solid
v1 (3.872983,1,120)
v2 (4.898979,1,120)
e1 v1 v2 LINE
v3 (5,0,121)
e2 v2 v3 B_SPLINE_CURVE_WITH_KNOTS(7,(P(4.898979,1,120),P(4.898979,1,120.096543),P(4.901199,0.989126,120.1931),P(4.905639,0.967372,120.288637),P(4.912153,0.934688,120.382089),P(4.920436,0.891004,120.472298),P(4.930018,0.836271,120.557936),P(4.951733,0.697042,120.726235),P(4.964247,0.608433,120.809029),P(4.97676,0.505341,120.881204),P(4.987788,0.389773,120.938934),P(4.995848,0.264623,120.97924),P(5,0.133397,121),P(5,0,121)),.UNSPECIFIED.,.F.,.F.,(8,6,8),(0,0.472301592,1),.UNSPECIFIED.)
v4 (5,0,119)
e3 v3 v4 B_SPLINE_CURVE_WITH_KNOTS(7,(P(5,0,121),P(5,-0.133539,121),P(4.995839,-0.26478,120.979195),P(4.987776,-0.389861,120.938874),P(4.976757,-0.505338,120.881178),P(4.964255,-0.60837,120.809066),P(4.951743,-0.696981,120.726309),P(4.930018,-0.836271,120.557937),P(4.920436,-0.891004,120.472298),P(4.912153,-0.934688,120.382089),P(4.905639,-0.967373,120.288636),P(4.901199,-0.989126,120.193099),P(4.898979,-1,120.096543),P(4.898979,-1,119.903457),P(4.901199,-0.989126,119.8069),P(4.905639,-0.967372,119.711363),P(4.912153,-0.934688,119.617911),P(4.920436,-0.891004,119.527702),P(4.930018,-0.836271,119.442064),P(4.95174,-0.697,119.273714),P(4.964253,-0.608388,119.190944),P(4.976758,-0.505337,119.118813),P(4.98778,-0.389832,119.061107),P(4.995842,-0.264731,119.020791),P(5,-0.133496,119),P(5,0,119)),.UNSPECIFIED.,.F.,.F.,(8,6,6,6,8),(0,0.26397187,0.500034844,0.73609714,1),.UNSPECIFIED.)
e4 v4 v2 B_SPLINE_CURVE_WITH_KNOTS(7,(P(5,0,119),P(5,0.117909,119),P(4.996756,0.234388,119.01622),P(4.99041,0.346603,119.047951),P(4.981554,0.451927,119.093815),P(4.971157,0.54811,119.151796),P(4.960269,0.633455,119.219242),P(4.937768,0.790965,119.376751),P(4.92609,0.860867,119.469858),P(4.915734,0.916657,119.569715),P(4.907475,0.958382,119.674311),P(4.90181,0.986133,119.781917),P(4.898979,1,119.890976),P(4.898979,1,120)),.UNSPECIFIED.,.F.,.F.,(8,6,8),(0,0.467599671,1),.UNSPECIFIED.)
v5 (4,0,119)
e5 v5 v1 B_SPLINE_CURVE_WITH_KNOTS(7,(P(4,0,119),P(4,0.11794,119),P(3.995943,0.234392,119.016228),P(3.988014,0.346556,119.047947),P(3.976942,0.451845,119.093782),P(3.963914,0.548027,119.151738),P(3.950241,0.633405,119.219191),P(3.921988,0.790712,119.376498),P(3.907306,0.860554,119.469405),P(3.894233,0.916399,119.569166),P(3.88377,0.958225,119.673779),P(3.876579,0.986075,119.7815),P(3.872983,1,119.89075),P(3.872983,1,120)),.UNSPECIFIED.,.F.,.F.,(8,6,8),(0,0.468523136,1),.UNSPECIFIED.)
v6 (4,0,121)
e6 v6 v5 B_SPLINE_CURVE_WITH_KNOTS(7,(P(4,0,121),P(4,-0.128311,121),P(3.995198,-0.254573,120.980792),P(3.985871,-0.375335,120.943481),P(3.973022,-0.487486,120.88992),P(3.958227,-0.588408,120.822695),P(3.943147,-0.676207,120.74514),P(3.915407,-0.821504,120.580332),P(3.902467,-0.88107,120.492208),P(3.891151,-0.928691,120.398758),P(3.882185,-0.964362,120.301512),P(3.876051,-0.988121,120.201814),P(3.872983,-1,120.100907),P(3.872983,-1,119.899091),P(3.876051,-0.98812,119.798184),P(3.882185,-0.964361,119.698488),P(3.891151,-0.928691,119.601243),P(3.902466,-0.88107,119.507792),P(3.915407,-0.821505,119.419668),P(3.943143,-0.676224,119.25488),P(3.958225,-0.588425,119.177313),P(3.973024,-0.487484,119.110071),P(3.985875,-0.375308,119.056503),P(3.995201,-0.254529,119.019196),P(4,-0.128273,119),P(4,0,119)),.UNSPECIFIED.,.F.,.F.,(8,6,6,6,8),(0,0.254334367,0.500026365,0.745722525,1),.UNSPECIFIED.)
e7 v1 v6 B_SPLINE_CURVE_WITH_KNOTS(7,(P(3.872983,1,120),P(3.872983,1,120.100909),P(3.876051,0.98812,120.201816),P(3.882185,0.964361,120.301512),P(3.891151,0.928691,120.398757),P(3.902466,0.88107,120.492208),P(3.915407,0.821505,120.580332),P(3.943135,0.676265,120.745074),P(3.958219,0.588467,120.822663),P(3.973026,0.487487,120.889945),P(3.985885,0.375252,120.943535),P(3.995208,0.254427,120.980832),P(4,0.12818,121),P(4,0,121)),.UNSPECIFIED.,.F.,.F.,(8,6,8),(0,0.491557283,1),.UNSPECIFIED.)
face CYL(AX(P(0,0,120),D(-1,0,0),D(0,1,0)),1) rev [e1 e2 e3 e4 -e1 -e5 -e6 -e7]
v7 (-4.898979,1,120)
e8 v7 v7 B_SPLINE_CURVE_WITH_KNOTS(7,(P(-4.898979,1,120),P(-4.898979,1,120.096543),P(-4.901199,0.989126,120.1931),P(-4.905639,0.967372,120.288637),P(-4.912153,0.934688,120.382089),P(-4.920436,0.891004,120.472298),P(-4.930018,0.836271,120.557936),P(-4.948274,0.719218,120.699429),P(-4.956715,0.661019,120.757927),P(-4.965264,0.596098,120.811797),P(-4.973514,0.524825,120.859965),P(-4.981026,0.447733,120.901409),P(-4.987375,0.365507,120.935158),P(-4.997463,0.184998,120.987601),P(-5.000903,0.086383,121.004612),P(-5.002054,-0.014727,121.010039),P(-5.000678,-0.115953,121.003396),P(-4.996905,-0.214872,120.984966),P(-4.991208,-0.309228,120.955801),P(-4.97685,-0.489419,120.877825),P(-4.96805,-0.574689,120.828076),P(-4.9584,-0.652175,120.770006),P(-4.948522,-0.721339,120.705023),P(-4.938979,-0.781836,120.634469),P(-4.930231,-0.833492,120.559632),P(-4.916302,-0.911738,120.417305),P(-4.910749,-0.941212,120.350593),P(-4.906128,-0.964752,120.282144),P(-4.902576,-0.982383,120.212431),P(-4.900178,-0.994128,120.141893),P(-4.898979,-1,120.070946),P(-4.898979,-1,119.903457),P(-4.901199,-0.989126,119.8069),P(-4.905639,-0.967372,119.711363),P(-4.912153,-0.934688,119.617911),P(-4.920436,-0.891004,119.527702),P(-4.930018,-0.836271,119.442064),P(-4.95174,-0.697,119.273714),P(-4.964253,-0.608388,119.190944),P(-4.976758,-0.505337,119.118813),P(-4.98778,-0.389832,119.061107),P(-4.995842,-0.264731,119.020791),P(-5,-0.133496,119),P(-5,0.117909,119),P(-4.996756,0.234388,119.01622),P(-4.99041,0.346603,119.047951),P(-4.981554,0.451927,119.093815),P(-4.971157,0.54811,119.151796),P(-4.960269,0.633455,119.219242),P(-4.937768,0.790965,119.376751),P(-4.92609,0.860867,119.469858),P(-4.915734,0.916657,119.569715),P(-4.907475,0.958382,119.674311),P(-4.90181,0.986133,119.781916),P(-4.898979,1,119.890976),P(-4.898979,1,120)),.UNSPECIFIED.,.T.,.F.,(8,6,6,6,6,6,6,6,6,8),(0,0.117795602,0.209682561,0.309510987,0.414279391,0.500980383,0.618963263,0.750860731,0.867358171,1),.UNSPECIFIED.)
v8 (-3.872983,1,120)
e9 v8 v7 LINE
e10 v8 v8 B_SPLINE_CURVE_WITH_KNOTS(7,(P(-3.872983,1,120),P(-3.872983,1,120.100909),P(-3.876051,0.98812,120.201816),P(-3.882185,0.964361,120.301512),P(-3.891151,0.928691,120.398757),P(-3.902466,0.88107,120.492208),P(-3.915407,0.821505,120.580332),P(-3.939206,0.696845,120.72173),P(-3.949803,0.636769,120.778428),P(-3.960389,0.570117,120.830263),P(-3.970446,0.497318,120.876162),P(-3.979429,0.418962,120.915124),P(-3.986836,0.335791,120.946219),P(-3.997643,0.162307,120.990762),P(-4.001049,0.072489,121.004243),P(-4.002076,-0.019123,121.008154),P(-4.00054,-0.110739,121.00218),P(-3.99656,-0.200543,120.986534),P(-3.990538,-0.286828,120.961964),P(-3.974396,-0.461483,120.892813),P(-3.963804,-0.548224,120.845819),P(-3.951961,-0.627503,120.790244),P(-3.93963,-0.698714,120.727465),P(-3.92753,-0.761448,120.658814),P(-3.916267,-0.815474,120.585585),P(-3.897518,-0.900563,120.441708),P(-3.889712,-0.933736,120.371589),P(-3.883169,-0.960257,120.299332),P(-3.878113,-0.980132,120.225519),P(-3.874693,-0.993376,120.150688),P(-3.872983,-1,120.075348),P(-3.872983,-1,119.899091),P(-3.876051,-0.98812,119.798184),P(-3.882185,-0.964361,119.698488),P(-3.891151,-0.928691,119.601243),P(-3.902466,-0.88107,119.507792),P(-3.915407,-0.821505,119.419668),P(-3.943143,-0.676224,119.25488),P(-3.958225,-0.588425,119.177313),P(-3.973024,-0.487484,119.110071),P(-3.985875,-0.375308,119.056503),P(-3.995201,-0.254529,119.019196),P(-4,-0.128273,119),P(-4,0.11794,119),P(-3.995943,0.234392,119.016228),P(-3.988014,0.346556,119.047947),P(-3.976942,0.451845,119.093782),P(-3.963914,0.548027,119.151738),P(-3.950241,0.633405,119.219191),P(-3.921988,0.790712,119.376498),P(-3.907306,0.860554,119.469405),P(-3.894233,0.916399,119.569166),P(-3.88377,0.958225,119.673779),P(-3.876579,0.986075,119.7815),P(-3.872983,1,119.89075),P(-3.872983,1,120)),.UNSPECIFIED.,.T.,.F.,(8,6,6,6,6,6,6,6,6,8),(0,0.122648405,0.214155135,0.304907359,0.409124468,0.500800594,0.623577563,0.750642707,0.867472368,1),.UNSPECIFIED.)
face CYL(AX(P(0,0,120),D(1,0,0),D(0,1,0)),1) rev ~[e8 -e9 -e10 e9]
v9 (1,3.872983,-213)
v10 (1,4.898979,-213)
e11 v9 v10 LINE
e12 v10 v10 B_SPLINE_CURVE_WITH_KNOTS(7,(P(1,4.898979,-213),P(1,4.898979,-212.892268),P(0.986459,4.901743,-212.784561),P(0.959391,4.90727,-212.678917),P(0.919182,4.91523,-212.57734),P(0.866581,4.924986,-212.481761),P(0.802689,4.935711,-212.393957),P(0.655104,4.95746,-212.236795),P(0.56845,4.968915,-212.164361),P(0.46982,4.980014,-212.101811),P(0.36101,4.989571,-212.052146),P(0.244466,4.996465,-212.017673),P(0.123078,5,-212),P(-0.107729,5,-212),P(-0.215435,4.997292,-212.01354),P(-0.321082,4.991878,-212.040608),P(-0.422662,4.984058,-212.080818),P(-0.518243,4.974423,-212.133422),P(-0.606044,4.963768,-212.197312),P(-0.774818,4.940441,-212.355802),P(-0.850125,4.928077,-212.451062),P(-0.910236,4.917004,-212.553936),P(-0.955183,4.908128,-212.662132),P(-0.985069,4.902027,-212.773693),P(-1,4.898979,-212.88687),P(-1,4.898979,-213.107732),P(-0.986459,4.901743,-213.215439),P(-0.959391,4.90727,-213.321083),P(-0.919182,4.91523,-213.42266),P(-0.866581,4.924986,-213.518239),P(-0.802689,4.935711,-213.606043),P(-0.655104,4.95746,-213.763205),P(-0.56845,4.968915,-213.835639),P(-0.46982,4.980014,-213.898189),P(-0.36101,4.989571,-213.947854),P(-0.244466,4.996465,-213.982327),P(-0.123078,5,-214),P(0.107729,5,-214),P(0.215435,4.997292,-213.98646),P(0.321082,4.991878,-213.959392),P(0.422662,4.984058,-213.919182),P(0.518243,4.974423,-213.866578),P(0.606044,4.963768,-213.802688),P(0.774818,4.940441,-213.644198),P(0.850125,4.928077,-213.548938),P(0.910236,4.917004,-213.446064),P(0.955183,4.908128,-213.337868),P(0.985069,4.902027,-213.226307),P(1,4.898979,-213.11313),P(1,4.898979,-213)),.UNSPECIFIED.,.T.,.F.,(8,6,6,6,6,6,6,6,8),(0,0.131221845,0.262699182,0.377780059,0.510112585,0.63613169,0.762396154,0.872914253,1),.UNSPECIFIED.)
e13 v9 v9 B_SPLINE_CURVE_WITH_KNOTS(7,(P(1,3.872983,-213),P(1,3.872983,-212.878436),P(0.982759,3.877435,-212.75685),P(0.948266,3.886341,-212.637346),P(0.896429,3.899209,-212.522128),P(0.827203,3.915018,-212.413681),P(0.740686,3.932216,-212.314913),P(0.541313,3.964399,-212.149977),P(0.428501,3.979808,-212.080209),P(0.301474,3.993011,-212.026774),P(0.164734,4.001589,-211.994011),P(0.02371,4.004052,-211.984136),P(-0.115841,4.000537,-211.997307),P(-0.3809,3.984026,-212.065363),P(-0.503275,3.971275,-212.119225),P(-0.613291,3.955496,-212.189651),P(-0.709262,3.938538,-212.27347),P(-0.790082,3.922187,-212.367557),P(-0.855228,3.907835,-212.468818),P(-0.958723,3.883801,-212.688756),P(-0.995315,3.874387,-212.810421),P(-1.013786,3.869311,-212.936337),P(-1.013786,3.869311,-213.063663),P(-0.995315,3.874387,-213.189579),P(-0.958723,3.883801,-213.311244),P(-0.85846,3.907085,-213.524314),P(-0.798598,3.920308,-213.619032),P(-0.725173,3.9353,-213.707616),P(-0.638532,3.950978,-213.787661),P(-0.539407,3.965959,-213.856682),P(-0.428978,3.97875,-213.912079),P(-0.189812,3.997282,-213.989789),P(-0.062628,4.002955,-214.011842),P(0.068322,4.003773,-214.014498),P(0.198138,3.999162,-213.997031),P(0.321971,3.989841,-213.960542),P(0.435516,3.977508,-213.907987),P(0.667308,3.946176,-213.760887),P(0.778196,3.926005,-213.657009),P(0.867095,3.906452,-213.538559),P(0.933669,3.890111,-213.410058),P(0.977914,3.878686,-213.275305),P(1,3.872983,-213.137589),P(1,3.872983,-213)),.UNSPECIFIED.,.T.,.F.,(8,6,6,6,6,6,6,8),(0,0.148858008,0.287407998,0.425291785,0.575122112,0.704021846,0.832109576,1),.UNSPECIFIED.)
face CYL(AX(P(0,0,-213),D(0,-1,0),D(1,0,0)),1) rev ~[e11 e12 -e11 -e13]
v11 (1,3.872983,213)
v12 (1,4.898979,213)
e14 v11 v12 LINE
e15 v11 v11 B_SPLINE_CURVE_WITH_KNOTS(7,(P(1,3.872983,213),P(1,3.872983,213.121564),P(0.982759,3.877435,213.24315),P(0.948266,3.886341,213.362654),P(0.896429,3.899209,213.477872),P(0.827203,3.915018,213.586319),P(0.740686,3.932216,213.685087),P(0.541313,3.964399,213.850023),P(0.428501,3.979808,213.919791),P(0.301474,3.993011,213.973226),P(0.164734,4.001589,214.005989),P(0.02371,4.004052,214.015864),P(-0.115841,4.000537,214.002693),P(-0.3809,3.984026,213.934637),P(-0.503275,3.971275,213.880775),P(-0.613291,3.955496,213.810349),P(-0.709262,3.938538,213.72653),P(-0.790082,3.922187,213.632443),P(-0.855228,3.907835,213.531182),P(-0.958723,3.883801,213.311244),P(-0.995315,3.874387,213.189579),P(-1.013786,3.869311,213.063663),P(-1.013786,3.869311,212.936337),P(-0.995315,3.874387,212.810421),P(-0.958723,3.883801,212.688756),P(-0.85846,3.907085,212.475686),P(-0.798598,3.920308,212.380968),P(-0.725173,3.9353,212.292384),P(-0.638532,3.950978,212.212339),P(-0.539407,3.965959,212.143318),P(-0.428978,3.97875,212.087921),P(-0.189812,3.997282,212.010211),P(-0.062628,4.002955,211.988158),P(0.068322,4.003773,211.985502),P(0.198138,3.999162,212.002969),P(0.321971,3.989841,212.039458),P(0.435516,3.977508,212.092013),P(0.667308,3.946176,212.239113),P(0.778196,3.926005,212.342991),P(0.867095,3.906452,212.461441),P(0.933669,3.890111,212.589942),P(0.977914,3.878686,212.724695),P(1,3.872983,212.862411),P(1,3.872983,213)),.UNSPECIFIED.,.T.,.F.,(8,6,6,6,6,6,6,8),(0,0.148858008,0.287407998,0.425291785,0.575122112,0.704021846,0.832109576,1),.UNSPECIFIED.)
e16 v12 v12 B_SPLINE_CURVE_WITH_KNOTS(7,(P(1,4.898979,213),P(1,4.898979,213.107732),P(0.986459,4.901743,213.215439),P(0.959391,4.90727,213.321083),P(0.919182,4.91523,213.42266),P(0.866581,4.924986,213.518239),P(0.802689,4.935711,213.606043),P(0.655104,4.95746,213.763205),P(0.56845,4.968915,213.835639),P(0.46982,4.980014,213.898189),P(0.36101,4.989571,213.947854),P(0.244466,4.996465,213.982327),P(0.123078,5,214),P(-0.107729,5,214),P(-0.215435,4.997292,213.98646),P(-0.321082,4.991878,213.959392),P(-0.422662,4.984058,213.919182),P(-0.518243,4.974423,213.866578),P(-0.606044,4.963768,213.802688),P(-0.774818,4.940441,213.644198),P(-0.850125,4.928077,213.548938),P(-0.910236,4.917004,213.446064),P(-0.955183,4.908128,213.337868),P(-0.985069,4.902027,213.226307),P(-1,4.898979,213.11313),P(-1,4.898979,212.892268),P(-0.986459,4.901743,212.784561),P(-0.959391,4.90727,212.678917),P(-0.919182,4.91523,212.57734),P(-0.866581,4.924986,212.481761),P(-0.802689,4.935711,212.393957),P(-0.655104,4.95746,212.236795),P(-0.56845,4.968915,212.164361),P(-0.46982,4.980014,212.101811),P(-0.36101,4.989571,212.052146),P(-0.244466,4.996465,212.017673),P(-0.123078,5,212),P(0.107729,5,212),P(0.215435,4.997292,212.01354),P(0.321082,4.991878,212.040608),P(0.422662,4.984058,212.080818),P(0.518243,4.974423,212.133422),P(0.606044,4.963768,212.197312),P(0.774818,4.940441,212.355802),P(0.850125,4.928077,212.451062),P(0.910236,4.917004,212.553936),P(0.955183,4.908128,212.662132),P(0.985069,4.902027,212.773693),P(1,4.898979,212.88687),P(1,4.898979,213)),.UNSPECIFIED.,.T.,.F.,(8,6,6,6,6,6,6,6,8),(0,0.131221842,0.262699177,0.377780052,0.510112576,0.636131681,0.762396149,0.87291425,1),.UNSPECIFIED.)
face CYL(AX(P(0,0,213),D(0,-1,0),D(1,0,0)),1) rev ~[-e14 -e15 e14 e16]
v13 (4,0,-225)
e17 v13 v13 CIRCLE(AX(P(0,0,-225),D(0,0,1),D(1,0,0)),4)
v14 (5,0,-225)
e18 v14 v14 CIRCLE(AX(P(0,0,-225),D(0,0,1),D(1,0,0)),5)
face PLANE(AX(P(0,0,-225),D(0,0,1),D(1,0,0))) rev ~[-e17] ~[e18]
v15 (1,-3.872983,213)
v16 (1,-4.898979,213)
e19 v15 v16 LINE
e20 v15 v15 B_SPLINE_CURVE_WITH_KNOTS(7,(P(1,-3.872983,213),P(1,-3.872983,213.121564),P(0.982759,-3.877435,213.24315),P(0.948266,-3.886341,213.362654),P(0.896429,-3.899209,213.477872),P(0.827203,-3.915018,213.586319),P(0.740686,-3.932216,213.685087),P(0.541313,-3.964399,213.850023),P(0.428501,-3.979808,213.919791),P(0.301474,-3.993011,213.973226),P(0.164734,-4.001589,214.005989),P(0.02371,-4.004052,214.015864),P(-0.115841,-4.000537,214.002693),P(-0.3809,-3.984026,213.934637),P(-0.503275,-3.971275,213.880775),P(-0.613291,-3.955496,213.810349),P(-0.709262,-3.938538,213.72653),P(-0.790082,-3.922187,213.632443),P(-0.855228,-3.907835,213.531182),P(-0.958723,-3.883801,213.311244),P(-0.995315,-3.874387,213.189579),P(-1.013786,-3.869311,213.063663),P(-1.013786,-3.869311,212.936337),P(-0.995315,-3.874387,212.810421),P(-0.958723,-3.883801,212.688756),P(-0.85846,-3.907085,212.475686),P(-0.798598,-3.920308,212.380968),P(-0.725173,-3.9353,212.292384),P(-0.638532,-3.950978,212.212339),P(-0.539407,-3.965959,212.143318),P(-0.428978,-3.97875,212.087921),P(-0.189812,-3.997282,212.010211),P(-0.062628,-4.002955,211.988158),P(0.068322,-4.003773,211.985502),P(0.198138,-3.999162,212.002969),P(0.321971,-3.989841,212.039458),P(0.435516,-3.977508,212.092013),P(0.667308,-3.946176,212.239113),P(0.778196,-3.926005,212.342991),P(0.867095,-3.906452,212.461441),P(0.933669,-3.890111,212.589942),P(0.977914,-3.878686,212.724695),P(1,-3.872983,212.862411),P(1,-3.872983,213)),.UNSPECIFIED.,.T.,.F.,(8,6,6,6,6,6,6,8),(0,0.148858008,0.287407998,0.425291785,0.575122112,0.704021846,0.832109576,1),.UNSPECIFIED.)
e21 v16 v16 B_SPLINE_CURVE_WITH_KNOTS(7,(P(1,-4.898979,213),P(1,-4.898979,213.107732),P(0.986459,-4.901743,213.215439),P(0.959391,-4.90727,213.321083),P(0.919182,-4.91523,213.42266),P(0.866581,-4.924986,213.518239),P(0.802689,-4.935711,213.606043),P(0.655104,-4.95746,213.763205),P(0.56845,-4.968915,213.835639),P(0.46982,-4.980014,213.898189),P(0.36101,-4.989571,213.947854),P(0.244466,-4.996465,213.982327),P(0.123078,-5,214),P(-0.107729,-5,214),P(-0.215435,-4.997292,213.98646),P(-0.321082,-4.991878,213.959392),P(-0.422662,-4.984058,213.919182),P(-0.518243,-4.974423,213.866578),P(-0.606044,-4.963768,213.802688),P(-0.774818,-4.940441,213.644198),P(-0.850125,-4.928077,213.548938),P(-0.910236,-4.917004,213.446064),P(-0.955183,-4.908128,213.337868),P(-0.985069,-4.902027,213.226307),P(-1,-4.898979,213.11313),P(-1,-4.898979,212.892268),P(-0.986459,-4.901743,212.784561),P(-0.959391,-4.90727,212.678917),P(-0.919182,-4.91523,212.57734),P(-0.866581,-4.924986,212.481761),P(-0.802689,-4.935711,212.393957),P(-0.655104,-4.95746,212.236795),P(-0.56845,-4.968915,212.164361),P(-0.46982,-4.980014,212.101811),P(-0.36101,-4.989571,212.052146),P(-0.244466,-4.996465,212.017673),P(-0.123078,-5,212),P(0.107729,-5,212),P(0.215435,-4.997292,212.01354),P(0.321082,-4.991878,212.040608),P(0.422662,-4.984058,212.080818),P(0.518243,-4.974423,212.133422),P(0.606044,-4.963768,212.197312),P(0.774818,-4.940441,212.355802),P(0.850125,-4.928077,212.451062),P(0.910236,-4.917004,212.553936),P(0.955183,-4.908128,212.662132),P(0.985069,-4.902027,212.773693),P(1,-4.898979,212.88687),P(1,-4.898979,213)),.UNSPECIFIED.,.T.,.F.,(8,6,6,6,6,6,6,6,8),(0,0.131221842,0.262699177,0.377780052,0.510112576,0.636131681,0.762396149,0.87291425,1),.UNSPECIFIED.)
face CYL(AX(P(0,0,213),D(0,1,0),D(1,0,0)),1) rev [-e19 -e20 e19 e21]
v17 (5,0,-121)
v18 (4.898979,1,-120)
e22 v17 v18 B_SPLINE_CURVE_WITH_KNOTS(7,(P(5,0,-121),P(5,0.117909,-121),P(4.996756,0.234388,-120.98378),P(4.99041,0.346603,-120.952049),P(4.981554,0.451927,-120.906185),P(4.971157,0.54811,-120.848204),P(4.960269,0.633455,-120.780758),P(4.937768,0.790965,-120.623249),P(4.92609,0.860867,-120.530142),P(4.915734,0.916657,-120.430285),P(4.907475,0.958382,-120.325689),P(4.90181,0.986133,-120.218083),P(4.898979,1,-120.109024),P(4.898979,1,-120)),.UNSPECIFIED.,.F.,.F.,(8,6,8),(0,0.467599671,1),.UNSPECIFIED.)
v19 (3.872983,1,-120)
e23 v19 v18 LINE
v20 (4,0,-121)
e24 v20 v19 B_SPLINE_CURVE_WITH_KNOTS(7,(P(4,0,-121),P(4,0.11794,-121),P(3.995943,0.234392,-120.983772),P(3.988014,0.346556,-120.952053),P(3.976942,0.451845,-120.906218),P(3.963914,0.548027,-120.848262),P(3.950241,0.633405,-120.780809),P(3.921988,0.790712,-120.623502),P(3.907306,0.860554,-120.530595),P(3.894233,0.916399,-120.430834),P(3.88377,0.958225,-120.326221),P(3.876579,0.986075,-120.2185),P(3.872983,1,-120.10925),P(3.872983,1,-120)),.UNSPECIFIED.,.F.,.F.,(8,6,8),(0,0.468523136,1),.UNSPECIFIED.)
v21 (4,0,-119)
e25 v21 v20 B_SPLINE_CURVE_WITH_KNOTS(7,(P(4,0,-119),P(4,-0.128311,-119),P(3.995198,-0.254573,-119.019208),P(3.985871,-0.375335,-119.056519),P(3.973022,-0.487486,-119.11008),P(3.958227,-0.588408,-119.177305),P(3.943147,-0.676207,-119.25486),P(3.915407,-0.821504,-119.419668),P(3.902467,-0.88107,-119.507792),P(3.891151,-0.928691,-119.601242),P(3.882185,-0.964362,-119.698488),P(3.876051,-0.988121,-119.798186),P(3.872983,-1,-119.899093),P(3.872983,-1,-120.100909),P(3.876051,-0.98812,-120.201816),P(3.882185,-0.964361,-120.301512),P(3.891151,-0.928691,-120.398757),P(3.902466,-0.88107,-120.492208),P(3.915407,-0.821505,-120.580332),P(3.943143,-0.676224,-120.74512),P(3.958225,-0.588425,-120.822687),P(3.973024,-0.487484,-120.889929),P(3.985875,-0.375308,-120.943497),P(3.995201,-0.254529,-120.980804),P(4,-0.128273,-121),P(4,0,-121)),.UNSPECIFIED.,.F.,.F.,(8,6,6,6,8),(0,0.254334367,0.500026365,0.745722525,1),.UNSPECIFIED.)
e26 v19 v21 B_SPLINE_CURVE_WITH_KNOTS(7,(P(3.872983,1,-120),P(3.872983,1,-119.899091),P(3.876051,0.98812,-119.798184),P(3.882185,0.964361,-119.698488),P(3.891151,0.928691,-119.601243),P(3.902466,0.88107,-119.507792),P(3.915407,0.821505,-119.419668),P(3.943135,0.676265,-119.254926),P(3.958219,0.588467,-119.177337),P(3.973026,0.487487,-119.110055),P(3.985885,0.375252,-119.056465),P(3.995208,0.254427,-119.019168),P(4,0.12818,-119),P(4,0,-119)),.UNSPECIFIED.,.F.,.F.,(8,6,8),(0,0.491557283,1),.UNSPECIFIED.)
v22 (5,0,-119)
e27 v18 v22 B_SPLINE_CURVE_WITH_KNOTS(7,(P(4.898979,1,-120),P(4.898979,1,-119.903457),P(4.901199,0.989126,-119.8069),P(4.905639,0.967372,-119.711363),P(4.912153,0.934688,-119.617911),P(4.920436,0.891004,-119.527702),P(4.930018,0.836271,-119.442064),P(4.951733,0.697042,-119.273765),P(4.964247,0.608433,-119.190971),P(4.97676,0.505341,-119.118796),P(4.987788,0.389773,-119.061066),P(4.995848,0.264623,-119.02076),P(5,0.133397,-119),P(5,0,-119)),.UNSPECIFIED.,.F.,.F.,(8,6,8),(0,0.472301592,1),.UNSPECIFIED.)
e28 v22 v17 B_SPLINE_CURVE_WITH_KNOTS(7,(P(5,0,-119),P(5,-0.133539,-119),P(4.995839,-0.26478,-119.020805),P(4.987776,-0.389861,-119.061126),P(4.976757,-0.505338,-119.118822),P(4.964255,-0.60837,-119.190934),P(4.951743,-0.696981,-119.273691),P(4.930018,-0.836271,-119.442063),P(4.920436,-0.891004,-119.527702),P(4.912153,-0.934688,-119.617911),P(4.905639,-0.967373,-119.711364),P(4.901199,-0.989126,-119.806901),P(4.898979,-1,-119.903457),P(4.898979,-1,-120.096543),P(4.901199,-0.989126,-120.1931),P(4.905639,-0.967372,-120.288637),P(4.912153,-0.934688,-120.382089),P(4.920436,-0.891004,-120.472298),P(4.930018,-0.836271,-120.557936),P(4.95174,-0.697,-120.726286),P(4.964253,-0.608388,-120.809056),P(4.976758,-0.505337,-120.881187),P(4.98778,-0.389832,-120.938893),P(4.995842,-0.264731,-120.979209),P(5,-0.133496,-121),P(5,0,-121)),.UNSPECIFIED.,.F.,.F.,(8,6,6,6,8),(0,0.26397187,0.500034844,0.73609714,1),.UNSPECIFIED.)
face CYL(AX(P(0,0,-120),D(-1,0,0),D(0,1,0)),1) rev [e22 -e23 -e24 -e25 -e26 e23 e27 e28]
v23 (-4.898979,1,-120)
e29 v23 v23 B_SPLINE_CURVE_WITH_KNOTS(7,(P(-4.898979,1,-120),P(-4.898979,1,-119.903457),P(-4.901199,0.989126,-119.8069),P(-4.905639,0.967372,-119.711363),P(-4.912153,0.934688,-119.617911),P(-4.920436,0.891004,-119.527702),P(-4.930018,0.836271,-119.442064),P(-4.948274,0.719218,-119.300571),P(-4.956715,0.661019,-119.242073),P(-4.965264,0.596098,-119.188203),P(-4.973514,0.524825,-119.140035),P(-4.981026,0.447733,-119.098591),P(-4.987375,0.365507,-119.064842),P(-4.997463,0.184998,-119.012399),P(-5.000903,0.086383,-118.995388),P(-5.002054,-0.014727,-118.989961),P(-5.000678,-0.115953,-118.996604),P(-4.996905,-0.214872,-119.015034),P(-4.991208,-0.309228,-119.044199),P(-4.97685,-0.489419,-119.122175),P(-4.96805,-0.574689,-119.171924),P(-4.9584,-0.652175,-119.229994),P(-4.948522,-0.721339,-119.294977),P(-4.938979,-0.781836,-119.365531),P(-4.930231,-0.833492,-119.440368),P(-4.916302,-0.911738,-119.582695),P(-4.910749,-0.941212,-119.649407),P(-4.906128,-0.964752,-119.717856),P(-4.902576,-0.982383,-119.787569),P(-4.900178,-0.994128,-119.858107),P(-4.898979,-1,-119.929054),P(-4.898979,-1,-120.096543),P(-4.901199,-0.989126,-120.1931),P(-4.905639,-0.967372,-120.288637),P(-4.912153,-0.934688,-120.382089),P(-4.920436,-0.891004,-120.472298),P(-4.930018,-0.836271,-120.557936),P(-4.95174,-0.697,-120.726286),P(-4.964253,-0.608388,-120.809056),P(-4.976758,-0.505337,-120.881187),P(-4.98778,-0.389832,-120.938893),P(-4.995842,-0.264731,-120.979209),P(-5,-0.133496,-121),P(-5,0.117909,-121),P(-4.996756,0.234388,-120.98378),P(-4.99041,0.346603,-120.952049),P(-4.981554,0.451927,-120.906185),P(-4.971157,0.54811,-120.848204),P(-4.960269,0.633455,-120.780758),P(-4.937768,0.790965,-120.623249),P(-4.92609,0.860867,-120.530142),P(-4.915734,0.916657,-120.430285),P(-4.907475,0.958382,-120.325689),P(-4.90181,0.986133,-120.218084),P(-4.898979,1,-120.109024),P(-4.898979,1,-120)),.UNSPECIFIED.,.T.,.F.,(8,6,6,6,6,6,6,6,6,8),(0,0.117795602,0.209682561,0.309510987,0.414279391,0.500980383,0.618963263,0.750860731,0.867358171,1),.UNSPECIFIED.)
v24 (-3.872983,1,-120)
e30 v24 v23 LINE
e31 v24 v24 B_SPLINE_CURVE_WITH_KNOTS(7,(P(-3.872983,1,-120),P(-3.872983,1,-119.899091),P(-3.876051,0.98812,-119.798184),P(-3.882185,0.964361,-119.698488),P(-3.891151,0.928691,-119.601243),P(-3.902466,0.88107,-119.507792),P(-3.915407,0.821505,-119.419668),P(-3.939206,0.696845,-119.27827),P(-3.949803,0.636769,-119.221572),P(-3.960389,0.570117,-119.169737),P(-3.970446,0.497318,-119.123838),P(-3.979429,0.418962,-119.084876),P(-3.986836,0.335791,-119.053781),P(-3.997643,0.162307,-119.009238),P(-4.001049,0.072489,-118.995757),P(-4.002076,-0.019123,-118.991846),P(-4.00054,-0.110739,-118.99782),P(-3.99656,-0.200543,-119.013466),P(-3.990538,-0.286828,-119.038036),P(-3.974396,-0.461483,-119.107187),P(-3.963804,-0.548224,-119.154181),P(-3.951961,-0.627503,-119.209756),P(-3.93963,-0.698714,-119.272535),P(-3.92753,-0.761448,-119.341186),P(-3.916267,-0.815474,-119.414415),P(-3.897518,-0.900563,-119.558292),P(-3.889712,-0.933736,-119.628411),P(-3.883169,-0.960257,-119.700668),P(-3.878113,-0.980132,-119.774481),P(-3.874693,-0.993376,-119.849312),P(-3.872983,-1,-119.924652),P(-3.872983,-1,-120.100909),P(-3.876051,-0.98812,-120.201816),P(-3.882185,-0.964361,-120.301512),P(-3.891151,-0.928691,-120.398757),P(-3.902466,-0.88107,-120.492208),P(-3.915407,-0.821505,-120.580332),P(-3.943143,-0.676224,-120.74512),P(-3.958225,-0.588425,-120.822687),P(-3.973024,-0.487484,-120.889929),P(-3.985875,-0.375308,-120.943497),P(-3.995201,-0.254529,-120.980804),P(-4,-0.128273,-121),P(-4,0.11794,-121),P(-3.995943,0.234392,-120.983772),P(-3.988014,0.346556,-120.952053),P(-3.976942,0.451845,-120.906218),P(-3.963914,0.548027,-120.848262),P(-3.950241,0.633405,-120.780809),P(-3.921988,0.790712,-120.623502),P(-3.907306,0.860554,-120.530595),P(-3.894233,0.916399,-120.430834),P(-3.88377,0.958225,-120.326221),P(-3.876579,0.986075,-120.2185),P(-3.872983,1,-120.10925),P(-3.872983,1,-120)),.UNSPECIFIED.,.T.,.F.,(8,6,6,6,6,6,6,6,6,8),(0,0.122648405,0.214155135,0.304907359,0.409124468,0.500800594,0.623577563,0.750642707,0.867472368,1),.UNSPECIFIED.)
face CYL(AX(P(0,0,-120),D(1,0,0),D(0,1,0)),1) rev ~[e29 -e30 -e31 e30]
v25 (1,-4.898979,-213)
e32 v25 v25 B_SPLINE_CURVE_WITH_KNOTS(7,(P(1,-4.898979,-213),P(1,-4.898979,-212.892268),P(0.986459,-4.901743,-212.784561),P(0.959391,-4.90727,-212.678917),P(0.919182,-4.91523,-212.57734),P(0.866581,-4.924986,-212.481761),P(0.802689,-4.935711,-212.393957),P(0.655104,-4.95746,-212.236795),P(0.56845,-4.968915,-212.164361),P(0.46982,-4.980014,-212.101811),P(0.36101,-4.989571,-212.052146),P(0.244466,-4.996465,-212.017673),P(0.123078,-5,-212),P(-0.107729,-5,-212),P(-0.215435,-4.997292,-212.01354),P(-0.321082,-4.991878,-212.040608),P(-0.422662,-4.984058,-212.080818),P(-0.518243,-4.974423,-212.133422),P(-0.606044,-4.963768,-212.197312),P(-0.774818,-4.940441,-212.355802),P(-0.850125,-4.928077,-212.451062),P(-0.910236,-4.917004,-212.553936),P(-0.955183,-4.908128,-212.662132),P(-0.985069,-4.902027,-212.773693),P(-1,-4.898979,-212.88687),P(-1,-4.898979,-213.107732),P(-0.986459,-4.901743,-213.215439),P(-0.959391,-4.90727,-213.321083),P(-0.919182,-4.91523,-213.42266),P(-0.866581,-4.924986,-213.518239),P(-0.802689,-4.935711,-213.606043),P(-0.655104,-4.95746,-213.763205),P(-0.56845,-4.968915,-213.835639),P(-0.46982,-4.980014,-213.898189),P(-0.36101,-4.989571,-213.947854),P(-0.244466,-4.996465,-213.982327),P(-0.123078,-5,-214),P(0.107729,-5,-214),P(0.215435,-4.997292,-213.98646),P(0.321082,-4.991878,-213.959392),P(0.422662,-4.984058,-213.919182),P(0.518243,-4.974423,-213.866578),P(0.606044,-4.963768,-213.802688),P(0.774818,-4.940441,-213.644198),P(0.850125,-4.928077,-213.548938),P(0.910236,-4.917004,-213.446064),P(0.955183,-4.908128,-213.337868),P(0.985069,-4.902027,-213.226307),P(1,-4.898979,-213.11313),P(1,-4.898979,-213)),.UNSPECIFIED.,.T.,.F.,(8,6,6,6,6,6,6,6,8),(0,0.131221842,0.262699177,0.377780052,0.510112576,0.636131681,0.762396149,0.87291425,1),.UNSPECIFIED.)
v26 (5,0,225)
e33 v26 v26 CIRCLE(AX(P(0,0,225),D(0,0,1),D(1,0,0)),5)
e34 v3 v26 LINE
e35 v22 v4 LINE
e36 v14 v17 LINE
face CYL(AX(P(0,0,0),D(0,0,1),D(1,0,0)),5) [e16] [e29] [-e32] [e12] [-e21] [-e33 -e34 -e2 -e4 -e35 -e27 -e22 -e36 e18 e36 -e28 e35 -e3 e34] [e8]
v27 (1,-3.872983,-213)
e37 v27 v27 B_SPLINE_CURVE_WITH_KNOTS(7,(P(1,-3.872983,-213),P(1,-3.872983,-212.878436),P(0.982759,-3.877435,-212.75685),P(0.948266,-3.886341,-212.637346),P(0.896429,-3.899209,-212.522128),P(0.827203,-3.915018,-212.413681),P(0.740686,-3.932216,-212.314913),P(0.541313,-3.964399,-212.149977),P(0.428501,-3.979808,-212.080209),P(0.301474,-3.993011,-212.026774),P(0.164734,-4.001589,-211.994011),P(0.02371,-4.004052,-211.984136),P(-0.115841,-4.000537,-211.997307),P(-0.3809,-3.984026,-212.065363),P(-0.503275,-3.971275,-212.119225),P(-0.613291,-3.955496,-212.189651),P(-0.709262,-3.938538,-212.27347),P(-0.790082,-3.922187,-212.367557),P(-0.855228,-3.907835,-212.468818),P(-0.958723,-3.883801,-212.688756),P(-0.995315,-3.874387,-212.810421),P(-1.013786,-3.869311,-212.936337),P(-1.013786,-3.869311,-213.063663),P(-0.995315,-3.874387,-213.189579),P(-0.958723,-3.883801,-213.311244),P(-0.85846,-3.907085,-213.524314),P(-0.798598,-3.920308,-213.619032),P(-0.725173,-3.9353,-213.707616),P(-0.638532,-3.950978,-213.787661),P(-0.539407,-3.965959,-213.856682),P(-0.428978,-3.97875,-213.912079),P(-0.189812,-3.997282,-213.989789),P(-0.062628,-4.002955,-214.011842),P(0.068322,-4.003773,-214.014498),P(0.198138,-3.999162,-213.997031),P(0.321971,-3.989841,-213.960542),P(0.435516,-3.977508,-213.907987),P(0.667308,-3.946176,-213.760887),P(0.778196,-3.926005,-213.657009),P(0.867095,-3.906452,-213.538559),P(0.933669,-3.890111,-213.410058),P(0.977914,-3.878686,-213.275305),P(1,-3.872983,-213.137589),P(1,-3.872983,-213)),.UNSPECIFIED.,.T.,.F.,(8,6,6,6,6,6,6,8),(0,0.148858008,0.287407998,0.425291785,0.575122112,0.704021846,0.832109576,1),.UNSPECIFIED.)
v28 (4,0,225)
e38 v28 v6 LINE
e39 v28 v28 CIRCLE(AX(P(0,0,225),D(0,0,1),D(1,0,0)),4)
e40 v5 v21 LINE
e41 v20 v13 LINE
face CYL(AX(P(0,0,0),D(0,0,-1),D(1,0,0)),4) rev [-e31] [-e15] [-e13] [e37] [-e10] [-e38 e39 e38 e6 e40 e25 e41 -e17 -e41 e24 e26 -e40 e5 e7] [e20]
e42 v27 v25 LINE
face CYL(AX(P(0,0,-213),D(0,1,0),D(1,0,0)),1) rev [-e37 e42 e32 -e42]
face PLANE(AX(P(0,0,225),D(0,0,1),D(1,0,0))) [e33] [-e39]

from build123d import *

# Parameters (mm, degrees)
F0_R          = 5
F0_R_2        = 4
F1_DEPTH      = 225
F2_R          = 1
F3_DEPTH      = 5.001
F3_DEPTH_BACK = 5.001
F4_R          = 1
F5_DEPTH      = 5.0010001
F5_DEPTH_BACK = 5.0010001


with BuildPart() as f1:
    # F0 (on Top) → F1 (new body, symmetric)
    with BuildSketch(Plane.XY):
        Circle(F0_R)
        Circle(F0_R_2, mode=Mode.SUBTRACT)
    extrude(amount=F1_DEPTH, both=True)

    # F2 (on Front) → F3 (cut, two sides)
    with BuildSketch(Plane.XZ) as f3_sk:
        with Locations((0, 213)):
            Circle(F2_R)
        with Locations((0, -213)):
            Circle(F2_R)
    extrude(amount=-F3_DEPTH, mode=Mode.SUBTRACT)
    extrude(f3_sk.sketch, amount=F3_DEPTH_BACK, mode=Mode.SUBTRACT)

    # F4 (on Right) → F5 (cut, two sides)
    with BuildSketch(Plane.YZ) as f5_sk:
        with Locations((0, 120)):
            Circle(F4_R)
        with Locations((0, -120)):
            Circle(F4_R)
    extrude(amount=-F5_DEPTH, mode=Mode.SUBTRACT)
    extrude(f5_sk.sketch, amount=F5_DEPTH_BACK, mode=Mode.SUBTRACT)


solid = f1.part
